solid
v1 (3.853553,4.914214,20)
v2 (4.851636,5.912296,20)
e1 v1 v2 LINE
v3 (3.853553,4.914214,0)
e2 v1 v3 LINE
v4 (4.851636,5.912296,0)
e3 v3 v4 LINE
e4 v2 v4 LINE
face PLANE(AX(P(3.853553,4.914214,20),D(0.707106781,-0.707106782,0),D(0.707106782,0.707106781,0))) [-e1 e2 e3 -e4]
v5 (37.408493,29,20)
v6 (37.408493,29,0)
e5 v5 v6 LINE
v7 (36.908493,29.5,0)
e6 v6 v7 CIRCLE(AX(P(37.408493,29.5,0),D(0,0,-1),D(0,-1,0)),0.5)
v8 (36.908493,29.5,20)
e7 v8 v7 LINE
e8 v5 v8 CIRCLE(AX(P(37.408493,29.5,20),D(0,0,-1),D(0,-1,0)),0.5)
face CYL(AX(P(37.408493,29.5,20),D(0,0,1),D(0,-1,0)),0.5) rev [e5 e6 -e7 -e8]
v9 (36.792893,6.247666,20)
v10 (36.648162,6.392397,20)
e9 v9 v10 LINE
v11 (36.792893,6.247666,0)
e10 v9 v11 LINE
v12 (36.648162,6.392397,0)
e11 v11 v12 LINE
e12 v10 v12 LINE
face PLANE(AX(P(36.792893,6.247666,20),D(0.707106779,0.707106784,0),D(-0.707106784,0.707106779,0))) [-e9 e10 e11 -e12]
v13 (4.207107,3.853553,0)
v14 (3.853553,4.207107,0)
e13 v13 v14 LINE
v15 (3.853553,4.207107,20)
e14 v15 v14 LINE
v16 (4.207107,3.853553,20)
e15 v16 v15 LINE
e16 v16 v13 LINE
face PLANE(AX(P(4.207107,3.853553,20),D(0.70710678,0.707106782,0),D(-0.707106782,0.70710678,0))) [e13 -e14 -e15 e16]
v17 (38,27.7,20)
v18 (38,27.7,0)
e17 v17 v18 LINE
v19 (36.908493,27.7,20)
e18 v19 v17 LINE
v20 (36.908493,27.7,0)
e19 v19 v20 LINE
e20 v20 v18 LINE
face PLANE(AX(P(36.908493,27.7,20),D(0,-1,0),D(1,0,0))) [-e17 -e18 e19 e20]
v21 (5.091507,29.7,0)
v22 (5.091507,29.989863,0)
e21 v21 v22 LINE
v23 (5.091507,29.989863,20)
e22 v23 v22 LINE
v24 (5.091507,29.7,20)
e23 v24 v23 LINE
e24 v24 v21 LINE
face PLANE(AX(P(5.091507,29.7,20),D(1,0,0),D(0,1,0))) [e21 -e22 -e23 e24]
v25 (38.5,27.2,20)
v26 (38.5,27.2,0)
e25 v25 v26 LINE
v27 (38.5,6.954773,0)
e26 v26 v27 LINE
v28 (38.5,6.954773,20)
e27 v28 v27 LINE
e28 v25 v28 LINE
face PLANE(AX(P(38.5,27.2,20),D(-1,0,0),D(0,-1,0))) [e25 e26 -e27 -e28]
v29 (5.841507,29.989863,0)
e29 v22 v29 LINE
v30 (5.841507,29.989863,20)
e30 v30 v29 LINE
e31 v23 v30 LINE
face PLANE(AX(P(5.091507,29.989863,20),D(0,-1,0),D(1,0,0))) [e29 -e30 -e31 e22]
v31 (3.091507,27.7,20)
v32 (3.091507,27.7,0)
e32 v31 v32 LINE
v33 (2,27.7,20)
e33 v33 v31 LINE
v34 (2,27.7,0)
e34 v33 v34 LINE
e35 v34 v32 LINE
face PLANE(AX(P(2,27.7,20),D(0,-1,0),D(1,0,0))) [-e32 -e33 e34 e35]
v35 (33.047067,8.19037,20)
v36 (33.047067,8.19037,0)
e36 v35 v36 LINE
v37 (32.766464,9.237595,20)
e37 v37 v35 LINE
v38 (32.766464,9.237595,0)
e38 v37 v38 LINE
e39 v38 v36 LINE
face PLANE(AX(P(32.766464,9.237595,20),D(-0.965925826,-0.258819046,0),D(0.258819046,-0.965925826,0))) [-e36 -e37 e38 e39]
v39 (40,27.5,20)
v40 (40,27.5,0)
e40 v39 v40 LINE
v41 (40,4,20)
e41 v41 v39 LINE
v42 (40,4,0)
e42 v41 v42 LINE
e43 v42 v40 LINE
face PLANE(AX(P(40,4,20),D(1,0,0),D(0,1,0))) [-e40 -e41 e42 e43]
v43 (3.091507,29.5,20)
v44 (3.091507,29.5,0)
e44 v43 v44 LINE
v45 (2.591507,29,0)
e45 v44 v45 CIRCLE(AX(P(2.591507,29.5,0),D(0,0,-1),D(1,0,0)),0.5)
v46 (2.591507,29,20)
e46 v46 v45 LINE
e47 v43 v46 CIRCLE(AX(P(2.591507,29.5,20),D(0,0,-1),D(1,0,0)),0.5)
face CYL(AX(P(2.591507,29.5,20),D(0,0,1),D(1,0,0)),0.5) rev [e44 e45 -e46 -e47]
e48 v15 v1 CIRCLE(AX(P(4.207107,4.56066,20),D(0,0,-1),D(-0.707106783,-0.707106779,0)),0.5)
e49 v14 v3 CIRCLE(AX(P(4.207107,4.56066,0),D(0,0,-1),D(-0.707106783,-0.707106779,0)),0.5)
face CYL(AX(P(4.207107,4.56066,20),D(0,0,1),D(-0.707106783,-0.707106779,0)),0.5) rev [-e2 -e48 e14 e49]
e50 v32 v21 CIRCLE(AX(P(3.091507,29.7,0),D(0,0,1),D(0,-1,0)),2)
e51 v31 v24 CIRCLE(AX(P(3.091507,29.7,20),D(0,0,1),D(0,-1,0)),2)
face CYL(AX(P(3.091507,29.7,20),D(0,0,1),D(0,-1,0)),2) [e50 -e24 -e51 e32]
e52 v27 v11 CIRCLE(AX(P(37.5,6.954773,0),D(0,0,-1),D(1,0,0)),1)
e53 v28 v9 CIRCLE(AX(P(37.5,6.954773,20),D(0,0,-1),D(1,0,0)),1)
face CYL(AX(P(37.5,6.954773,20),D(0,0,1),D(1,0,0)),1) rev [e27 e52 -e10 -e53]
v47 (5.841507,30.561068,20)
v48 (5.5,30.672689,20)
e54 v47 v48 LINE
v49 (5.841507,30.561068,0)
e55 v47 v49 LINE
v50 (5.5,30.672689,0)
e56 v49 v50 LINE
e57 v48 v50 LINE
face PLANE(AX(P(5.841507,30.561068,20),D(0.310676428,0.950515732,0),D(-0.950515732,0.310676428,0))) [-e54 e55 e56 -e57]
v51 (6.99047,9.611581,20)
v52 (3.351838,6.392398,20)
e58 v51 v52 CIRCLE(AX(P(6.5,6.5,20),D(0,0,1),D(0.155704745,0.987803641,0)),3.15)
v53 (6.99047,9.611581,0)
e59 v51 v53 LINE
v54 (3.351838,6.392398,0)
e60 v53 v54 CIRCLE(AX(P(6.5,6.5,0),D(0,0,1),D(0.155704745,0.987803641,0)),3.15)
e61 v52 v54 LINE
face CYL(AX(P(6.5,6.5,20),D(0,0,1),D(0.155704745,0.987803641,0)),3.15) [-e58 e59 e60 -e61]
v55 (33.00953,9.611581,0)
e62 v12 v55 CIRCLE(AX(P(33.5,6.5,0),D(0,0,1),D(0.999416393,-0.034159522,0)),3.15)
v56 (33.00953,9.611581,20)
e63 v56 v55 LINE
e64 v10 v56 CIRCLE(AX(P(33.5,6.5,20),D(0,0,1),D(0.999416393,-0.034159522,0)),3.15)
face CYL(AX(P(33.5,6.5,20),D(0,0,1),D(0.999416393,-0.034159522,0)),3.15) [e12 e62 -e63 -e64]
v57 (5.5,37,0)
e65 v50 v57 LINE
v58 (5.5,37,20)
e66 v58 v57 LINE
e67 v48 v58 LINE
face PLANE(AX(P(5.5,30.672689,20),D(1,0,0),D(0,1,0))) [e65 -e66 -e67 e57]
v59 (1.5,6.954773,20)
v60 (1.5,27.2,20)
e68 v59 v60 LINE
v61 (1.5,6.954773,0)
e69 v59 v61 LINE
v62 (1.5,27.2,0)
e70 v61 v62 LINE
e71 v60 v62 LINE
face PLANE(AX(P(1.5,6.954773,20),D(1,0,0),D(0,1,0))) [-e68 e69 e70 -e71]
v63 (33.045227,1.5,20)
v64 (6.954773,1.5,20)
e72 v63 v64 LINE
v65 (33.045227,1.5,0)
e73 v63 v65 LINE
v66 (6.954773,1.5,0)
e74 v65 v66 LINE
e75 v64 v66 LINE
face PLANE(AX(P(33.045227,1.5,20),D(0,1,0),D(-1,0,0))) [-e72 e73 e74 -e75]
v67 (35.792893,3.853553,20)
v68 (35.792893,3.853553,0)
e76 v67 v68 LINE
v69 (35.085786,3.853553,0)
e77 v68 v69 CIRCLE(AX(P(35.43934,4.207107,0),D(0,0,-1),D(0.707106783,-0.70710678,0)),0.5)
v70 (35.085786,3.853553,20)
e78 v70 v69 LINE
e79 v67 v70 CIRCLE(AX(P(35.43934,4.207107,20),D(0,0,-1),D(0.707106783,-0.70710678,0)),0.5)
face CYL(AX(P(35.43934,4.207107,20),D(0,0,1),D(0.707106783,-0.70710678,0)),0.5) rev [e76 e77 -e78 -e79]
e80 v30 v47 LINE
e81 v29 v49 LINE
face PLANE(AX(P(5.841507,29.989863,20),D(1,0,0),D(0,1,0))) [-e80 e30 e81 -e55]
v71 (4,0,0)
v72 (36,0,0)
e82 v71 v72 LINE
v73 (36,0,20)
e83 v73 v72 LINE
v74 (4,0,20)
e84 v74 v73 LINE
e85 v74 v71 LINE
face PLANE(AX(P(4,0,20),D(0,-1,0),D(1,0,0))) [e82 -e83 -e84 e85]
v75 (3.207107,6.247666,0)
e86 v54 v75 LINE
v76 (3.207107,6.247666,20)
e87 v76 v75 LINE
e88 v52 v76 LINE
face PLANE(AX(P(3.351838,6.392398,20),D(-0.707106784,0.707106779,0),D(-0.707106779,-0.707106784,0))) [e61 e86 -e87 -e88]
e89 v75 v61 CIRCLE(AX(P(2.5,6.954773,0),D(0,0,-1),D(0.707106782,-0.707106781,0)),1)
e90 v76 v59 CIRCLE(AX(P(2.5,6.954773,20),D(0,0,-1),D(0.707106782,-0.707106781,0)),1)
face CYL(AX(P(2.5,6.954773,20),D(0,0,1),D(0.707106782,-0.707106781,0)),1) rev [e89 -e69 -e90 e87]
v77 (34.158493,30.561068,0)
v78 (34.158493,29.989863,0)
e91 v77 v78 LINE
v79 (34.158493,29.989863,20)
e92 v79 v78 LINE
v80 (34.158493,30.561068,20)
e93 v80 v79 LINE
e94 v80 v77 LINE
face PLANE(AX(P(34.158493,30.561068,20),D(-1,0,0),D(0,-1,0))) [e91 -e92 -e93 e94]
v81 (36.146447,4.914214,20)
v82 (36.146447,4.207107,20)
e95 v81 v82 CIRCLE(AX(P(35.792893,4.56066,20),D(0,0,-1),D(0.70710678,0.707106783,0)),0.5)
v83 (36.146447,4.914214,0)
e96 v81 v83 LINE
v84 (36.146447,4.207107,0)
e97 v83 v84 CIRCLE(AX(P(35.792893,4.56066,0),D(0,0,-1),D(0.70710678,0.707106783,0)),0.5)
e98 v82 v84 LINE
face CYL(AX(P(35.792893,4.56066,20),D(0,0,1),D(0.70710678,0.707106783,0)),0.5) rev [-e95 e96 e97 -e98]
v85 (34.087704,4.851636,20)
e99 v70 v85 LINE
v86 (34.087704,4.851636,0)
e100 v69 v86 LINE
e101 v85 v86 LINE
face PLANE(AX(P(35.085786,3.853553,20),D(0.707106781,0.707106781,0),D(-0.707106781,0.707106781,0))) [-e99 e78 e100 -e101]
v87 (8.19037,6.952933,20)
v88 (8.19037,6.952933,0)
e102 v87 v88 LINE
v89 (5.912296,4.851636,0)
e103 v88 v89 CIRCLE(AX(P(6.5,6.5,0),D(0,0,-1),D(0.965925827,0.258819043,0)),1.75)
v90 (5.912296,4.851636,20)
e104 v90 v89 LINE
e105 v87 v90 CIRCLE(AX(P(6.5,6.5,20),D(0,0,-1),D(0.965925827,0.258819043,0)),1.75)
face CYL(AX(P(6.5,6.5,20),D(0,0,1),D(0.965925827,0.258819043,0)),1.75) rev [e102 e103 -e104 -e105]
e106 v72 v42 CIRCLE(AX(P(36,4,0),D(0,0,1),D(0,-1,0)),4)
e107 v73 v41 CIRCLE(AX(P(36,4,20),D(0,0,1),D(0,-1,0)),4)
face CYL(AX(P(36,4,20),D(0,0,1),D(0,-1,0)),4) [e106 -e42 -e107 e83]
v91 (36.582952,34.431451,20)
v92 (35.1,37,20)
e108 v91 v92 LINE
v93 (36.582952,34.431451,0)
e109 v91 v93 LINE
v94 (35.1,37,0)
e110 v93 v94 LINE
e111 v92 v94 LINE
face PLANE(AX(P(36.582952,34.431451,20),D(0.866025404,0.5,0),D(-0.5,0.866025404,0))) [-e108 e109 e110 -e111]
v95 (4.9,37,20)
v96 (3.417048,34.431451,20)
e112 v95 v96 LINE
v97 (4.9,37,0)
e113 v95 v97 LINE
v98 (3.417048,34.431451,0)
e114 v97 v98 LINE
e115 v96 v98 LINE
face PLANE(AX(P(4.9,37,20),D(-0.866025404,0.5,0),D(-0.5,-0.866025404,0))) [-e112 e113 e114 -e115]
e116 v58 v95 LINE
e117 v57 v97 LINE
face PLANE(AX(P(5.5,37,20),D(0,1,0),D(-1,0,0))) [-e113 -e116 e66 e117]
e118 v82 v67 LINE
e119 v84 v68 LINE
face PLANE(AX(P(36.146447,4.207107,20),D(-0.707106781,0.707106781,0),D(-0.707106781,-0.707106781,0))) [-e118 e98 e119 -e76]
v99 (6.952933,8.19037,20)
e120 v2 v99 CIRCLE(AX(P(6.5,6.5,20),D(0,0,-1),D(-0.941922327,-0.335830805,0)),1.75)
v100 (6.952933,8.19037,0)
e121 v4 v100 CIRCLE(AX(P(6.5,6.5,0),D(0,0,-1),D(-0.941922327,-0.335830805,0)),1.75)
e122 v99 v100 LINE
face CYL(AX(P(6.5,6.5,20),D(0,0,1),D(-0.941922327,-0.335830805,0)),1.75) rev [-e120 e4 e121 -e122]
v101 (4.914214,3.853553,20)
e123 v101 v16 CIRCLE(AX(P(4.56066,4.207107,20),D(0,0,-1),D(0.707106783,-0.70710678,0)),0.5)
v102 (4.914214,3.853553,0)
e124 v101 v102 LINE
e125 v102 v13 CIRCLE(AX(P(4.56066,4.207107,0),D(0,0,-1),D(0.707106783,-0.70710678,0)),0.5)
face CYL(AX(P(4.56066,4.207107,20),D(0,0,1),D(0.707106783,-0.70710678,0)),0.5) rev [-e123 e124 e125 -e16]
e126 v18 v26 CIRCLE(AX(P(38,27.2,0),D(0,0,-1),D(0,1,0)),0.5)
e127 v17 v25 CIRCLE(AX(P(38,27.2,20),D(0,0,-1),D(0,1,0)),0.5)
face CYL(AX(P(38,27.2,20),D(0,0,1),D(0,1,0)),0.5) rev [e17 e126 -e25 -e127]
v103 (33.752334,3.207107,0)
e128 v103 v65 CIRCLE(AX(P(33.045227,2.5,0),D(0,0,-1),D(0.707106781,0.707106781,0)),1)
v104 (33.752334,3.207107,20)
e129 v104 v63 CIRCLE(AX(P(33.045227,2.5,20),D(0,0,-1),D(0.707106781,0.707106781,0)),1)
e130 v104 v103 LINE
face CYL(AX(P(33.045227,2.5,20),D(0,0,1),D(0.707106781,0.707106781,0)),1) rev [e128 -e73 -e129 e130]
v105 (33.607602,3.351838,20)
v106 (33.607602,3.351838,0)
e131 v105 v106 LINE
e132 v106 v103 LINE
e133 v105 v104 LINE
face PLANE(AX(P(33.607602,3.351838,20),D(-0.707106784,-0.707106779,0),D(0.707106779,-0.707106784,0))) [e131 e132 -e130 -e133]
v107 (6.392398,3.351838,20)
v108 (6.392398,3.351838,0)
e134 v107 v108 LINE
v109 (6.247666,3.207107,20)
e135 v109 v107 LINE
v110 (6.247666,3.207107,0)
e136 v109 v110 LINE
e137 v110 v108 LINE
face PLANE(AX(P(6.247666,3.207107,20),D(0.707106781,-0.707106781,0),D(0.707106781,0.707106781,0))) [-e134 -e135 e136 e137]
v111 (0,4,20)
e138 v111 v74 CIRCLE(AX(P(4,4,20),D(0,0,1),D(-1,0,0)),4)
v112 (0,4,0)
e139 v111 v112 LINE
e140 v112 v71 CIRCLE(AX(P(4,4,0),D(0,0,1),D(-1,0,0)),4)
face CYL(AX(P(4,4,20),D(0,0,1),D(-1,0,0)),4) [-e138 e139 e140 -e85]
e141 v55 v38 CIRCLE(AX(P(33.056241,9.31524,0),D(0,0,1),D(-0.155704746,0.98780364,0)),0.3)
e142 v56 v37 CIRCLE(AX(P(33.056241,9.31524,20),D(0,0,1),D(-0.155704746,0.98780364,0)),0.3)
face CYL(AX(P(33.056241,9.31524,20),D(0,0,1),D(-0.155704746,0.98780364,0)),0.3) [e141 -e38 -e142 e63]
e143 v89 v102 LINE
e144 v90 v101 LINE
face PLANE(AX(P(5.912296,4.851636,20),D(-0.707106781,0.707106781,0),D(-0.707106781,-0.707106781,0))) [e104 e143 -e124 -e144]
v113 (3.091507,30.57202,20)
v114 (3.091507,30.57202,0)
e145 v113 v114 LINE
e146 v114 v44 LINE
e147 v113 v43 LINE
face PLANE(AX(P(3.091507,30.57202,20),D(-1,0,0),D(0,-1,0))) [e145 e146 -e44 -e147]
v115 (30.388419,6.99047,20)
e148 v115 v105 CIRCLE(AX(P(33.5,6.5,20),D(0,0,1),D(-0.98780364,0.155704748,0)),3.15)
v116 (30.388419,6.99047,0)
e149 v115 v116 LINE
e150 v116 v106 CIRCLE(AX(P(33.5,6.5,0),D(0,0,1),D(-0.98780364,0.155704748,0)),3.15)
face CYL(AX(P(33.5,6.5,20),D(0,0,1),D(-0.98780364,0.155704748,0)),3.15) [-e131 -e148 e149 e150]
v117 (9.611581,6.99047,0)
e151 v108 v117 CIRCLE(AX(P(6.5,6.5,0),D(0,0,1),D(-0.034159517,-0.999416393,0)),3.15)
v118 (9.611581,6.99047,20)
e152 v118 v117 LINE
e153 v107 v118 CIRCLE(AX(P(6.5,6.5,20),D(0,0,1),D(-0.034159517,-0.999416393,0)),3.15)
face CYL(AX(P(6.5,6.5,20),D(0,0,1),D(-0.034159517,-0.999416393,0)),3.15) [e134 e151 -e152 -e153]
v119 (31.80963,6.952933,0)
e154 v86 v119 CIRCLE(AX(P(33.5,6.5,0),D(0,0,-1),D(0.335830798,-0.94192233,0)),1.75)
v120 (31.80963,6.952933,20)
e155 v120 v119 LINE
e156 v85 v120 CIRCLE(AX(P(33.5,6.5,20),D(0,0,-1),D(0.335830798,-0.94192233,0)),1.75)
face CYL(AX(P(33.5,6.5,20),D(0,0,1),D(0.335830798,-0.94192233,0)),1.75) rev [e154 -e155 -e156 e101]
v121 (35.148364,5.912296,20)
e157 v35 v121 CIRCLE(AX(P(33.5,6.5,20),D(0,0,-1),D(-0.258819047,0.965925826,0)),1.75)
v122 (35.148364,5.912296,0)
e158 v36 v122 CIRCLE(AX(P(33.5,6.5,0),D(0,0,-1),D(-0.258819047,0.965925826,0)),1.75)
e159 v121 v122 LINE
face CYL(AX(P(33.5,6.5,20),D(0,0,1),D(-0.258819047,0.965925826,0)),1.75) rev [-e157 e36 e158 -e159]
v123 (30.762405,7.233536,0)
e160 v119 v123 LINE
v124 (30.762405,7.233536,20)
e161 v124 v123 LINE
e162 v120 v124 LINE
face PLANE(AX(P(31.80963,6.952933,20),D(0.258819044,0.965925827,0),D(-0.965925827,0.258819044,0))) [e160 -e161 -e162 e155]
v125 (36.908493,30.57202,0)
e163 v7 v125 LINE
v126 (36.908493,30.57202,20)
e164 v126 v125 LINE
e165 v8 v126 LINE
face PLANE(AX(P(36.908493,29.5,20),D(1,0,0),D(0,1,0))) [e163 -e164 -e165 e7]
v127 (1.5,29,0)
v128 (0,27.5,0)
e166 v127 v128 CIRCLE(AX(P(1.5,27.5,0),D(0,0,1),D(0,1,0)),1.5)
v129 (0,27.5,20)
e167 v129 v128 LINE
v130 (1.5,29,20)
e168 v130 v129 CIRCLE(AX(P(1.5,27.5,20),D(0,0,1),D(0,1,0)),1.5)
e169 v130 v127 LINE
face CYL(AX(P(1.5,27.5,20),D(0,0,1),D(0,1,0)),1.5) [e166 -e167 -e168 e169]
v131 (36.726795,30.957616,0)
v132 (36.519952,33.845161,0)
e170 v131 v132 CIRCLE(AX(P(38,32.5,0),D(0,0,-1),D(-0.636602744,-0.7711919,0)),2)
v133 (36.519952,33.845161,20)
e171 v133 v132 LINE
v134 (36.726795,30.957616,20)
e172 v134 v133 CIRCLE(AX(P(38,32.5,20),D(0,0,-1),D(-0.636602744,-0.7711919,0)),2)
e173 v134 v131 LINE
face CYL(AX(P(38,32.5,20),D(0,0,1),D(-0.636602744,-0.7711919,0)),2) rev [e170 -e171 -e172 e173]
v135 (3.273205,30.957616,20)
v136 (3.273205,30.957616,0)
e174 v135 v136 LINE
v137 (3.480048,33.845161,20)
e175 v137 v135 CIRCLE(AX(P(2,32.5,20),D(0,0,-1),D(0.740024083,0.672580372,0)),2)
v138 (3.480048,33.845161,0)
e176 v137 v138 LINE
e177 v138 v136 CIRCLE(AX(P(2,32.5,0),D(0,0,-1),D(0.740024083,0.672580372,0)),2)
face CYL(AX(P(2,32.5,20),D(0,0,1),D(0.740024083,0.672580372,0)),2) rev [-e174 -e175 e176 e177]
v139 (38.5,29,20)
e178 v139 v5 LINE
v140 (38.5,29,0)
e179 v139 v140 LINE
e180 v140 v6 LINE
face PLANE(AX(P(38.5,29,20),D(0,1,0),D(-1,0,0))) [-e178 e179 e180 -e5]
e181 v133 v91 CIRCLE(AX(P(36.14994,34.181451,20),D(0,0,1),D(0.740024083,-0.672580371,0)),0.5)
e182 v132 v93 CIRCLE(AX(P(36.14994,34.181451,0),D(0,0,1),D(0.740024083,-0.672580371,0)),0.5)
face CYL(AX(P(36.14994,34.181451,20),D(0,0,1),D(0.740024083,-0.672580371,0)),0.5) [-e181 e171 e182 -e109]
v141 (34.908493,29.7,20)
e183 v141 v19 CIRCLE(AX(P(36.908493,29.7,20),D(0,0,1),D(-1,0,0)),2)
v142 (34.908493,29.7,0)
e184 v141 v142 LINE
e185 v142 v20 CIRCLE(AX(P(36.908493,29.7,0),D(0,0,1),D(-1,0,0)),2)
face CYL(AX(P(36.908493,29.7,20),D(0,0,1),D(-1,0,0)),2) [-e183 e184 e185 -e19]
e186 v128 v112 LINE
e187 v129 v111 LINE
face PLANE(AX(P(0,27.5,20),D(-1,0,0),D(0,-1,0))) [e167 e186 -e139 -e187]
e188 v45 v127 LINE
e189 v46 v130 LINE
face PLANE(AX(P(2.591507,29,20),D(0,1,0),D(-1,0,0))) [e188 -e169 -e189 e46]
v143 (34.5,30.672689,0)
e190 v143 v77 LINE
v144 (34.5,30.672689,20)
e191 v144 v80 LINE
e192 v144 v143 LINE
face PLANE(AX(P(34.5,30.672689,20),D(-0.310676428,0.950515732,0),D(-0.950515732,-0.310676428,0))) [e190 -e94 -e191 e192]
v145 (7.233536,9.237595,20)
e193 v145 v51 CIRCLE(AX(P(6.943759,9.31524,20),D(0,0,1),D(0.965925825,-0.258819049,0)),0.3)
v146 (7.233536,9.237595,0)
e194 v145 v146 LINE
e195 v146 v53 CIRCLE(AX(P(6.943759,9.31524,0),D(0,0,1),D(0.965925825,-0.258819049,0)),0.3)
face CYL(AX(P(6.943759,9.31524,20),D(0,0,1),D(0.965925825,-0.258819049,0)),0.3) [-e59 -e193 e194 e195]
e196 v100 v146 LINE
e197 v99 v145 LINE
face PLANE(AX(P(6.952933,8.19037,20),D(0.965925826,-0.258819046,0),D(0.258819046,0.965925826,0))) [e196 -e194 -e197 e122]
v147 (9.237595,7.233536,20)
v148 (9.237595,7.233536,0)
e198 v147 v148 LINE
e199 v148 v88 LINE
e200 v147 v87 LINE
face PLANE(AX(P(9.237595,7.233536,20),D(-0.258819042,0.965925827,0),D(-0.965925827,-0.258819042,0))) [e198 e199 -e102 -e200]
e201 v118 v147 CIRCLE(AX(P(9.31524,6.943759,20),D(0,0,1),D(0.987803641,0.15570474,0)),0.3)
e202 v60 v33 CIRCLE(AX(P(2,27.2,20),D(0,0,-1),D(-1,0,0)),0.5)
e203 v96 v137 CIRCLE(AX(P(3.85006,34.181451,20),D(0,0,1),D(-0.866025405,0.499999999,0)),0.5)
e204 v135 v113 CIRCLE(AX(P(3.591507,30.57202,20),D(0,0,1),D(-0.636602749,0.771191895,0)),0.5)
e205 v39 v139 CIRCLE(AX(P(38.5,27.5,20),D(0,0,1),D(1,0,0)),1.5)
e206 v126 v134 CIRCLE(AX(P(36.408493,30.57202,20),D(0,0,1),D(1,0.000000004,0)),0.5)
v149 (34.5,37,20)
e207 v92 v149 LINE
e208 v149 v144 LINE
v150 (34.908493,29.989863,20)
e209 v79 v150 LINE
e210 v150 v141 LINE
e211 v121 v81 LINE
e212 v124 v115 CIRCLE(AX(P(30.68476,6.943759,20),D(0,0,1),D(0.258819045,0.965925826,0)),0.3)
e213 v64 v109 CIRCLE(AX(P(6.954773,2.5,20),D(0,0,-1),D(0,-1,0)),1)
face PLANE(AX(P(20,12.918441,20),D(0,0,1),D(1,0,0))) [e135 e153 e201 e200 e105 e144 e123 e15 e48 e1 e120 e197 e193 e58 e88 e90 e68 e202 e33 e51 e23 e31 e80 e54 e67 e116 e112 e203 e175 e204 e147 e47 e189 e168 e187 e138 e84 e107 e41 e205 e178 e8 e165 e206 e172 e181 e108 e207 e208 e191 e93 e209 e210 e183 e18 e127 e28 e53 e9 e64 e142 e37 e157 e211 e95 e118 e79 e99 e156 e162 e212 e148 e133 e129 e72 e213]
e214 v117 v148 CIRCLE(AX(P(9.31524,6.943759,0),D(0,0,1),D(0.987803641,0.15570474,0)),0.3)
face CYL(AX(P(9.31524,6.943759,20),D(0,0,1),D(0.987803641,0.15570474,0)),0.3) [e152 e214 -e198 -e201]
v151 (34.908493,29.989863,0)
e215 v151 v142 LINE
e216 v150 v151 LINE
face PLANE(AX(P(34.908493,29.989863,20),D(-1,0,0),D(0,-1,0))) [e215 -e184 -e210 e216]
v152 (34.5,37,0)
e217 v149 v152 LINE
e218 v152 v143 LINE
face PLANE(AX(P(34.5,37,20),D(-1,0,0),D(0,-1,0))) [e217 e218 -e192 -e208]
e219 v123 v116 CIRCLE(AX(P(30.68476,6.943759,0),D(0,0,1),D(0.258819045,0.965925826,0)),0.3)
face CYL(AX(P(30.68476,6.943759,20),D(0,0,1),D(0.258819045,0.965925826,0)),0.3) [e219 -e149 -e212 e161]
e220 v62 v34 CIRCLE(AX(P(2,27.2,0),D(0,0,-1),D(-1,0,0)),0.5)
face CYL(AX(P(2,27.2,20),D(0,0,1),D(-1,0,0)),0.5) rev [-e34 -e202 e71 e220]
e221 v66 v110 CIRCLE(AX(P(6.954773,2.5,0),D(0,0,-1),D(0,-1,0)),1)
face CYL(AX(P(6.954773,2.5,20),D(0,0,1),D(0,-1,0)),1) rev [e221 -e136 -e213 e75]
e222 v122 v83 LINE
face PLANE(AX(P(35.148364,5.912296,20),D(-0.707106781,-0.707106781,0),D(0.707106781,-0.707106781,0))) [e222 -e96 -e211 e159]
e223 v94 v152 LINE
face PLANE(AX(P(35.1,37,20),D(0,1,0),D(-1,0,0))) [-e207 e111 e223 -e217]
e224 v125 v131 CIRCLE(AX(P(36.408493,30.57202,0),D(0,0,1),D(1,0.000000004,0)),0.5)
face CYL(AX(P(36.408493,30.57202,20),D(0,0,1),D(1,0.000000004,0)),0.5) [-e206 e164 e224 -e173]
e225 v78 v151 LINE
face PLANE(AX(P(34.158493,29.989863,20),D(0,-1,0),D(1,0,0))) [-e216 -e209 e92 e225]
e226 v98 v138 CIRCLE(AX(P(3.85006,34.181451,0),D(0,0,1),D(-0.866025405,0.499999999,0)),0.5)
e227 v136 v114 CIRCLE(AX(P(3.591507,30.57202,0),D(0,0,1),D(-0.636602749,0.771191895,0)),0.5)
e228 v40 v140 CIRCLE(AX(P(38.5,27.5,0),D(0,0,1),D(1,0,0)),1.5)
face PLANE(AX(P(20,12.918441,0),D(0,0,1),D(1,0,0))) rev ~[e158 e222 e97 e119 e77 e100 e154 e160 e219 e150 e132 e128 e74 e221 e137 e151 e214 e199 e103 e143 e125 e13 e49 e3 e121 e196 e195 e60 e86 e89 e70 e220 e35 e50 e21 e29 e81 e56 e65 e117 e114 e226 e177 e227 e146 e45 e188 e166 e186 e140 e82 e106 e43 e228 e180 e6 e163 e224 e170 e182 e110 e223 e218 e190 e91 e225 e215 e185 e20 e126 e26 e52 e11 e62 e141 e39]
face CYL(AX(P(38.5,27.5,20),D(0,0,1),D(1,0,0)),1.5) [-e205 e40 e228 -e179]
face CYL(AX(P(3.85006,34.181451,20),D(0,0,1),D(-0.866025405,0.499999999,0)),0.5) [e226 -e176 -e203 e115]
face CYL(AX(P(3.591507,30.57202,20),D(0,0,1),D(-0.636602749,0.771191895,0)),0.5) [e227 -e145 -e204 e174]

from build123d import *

# Parameters (mm, degrees)
BOSS_EXTRUDE1_DEPTH = 20


with BuildPart() as part:
    # Sketch1 → Boss-Extrude1 (new body)
    with BuildSketch(Plane.XY.offset(20)):
        with BuildLine():
            Line((4, 0), (36, 0))
            ThreePointArc((36, 0), (38.828427125, 1.171572875), (40, 4))
            Line((40, 4), (40, 27.499999994))
            ThreePointArc((40, 27.499999994), (39.56066017, 28.56066017), (38.499999994, 29))
            Line((38.499999994, 29), (37.408493132, 29))
            ThreePointArc((37.408493132, 29), (37.05493974, 29.14644661), (36.90849313, 29.500000002))
            Line((36.90849313, 29.500000002), (36.90849313, 30.572020267))
            ThreePointArc((36.90849313, 30.572020267), (36.86079319, 30.785150869), (36.726794508, 30.957616203))
            ThreePointArc((36.726794508, 30.957616203), (36.005111578, 32.357100716), (36.519951827, 33.845160752))
            ThreePointArc((36.519951827, 33.845160752), (36.647077826, 34.128030253), (36.582952488, 34.431450944))
            Line((36.582952488, 34.431450944), (35.099999998, 37.000000001))
            Line((35.099999998, 37.000000001), (34.500000002, 37.000000001))
            Line((34.500000002, 37.000000001), (34.500000002, 30.672689193))
            Line((34.500000002, 30.672689193), (34.158493132, 30.561067543))
            Line((34.158493132, 30.561067543), (34.158493132, 29.989862813))
            Line((34.158493132, 29.989862813), (34.908493132, 29.989862813))
            Line((34.908493132, 29.989862813), (34.908493132, 29.700000011))
            ThreePointArc((34.908493132, 29.700000011), (35.494279572, 28.285786443), (36.908493141, 27.700000003))
            Line((36.908493141, 27.700000003), (38.000000017, 27.700000003))
            ThreePointArc((38.000000017, 27.700000003), (38.353553409, 27.553553393), (38.500000019, 27.200000001))
            Line((38.500000019, 27.200000001), (38.500000019, 6.9547727))
            ThreePointArc((38.500000019, 6.9547727), (37.882683451, 6.030893167), (36.792893237, 6.247665919))
            Line((36.792893237, 6.247665919), (36.648161659, 6.392397496))
            ThreePointArc((36.648161659, 6.392397496), (35.587251229, 8.859212237), (33.009530056, 9.611581471))
            ThreePointArc((33.009530056, 9.611581471), (32.804700675, 9.478725012), (32.766463725, 9.237594653))
            Line((32.766463725, 9.237594653), (33.047066675, 8.190370192))
            ThreePointArc((33.047066675, 8.190370192), (34.786339421, 7.686520507), (35.148364083, 5.912296075))
            Line((35.148364083, 5.912296075), (36.146446608, 4.91421355))
            ThreePointArc((36.146446608, 4.91421355), (36.292893217, 4.560660161), (36.146446608, 4.207106773))
            Line((36.146446608, 4.207106773), (35.792893214, 3.853553379))
            ThreePointArc((35.792893214, 3.853553379), (35.439339826, 3.70710677), (35.085786437, 3.853553379))
            Line((35.085786437, 3.853553379), (34.087703906, 4.85163591))
            ThreePointArc((34.087703906, 4.85163591), (32.313479487, 5.213660585), (31.809629807, 6.952933321))
            Line((31.809629807, 6.952933321), (30.762405333, 7.233536272))
            ThreePointArc((30.762405333, 7.233536272), (30.521274984, 7.195299323), (30.38841853, 6.990469949))
            ThreePointArc((30.38841853, 6.990469949), (31.140787752, 4.412748784), (33.607602477, 3.351838341))
            Line((33.607602477, 3.351838341), (33.752334032, 3.207106785))
            ThreePointArc((33.752334032, 3.207106785), (33.969106782, 2.117316579), (33.045227255, 1.500000015))
            Line((33.045227255, 1.500000015), (6.954772716, 1.500000015))
            ThreePointArc((6.954772716, 1.500000015), (6.030893183, 2.117316583), (6.247665934, 3.207106797))
            Line((6.247665934, 3.207106797), (6.392397512, 3.351838375))
            ThreePointArc((6.392397512, 3.351838375), (8.859212224, 4.412748803), (9.611581449, 6.990469949))
            ThreePointArc((9.611581449, 6.990469949), (9.478724996, 7.195299323), (9.237594646, 7.233536272))
            Line((9.237594646, 7.233536272), (8.190370187, 6.952933328))
            ThreePointArc((8.190370187, 6.952933328), (7.686520502, 5.213660596), (5.912296085, 4.851635932))
            Line((5.912296085, 4.851635932), (4.914213553, 3.8535534))
            ThreePointArc((4.914213553, 3.8535534), (4.560660164, 3.707106791), (4.207106776, 3.8535534))
            Line((4.207106776, 3.8535534), (3.853553388, 4.207106787))
            ThreePointArc((3.853553388, 4.207106787), (3.70710678, 4.560660175), (3.853553388, 4.914213564))
            Line((3.853553388, 4.914213564), (4.85163592, 5.912296095))
            ThreePointArc((4.85163592, 5.912296095), (5.213660585, 7.686520517), (6.952933322, 8.190370198))
            Line((6.952933322, 8.190370198), (7.233536268, 9.237594644))
            ThreePointArc((7.233536268, 9.237594644), (7.195299318, 9.478725003), (6.990469936, 9.611581462))
            ThreePointArc((6.990469936, 9.611581462), (4.412748785, 8.859212233), (3.351838362, 6.392397513))
            Line((3.351838362, 6.392397513), (3.207106785, 6.247665935))
            ThreePointArc((3.207106785, 6.247665935), (2.11731657, 6.030893183), (1.500000002, 6.954772717))
            Line((1.500000002, 6.954772717), (1.500000002, 27.200000001))
            ThreePointArc((1.500000002, 27.200000001), (1.646446612, 27.553553393), (2.000000004, 27.700000003))
            Line((2.000000004, 27.700000003), (3.091506864, 27.700000003))
            ThreePointArc((3.091506864, 27.700000003), (4.505720432, 28.285786443), (5.091506872, 29.700000011))
            Line((5.091506872, 29.700000011), (5.091506872, 29.989862813))
            Line((5.091506872, 29.989862813), (5.841506868, 29.989862813))
            Line((5.841506868, 29.989862813), (5.841506868, 30.561067541))
            Line((5.841506868, 30.561067541), (5.499999998, 30.672689191))
            Line((5.499999998, 30.672689191), (5.499999998, 37.000000001))
            Line((5.499999998, 37.000000001), (4.899999998, 37.000000001))
            Line((4.899999998, 37.000000001), (3.417047508, 34.431450944))
            ThreePointArc((3.417047508, 34.431450944), (3.35292217, 34.128030253), (3.480048169, 33.845160751))
            ThreePointArc((3.480048169, 33.845160751), (3.99488842, 32.357100716), (3.273205491, 30.957616203))
            ThreePointArc((3.273205491, 30.957616203), (3.13920681, 30.785150869), (3.09150687, 30.572020267))
            Line((3.09150687, 30.572020267), (3.09150687, 29.500000002))
            ThreePointArc((3.09150687, 29.500000002), (2.94506026, 29.14644661), (2.591506868, 29))
            Line((2.591506868, 29), (1.500000006, 29))
            ThreePointArc((1.500000006, 29), (0.43933983, 28.56066017), (0, 27.499999994))
            Line((0, 27.499999994), (0, 4))
            ThreePointArc((0, 4), (1.171572875, 1.171572875), (4, 0))
        make_face()
    extrude(amount=-BOSS_EXTRUDE1_DEPTH)


solid = part.part
